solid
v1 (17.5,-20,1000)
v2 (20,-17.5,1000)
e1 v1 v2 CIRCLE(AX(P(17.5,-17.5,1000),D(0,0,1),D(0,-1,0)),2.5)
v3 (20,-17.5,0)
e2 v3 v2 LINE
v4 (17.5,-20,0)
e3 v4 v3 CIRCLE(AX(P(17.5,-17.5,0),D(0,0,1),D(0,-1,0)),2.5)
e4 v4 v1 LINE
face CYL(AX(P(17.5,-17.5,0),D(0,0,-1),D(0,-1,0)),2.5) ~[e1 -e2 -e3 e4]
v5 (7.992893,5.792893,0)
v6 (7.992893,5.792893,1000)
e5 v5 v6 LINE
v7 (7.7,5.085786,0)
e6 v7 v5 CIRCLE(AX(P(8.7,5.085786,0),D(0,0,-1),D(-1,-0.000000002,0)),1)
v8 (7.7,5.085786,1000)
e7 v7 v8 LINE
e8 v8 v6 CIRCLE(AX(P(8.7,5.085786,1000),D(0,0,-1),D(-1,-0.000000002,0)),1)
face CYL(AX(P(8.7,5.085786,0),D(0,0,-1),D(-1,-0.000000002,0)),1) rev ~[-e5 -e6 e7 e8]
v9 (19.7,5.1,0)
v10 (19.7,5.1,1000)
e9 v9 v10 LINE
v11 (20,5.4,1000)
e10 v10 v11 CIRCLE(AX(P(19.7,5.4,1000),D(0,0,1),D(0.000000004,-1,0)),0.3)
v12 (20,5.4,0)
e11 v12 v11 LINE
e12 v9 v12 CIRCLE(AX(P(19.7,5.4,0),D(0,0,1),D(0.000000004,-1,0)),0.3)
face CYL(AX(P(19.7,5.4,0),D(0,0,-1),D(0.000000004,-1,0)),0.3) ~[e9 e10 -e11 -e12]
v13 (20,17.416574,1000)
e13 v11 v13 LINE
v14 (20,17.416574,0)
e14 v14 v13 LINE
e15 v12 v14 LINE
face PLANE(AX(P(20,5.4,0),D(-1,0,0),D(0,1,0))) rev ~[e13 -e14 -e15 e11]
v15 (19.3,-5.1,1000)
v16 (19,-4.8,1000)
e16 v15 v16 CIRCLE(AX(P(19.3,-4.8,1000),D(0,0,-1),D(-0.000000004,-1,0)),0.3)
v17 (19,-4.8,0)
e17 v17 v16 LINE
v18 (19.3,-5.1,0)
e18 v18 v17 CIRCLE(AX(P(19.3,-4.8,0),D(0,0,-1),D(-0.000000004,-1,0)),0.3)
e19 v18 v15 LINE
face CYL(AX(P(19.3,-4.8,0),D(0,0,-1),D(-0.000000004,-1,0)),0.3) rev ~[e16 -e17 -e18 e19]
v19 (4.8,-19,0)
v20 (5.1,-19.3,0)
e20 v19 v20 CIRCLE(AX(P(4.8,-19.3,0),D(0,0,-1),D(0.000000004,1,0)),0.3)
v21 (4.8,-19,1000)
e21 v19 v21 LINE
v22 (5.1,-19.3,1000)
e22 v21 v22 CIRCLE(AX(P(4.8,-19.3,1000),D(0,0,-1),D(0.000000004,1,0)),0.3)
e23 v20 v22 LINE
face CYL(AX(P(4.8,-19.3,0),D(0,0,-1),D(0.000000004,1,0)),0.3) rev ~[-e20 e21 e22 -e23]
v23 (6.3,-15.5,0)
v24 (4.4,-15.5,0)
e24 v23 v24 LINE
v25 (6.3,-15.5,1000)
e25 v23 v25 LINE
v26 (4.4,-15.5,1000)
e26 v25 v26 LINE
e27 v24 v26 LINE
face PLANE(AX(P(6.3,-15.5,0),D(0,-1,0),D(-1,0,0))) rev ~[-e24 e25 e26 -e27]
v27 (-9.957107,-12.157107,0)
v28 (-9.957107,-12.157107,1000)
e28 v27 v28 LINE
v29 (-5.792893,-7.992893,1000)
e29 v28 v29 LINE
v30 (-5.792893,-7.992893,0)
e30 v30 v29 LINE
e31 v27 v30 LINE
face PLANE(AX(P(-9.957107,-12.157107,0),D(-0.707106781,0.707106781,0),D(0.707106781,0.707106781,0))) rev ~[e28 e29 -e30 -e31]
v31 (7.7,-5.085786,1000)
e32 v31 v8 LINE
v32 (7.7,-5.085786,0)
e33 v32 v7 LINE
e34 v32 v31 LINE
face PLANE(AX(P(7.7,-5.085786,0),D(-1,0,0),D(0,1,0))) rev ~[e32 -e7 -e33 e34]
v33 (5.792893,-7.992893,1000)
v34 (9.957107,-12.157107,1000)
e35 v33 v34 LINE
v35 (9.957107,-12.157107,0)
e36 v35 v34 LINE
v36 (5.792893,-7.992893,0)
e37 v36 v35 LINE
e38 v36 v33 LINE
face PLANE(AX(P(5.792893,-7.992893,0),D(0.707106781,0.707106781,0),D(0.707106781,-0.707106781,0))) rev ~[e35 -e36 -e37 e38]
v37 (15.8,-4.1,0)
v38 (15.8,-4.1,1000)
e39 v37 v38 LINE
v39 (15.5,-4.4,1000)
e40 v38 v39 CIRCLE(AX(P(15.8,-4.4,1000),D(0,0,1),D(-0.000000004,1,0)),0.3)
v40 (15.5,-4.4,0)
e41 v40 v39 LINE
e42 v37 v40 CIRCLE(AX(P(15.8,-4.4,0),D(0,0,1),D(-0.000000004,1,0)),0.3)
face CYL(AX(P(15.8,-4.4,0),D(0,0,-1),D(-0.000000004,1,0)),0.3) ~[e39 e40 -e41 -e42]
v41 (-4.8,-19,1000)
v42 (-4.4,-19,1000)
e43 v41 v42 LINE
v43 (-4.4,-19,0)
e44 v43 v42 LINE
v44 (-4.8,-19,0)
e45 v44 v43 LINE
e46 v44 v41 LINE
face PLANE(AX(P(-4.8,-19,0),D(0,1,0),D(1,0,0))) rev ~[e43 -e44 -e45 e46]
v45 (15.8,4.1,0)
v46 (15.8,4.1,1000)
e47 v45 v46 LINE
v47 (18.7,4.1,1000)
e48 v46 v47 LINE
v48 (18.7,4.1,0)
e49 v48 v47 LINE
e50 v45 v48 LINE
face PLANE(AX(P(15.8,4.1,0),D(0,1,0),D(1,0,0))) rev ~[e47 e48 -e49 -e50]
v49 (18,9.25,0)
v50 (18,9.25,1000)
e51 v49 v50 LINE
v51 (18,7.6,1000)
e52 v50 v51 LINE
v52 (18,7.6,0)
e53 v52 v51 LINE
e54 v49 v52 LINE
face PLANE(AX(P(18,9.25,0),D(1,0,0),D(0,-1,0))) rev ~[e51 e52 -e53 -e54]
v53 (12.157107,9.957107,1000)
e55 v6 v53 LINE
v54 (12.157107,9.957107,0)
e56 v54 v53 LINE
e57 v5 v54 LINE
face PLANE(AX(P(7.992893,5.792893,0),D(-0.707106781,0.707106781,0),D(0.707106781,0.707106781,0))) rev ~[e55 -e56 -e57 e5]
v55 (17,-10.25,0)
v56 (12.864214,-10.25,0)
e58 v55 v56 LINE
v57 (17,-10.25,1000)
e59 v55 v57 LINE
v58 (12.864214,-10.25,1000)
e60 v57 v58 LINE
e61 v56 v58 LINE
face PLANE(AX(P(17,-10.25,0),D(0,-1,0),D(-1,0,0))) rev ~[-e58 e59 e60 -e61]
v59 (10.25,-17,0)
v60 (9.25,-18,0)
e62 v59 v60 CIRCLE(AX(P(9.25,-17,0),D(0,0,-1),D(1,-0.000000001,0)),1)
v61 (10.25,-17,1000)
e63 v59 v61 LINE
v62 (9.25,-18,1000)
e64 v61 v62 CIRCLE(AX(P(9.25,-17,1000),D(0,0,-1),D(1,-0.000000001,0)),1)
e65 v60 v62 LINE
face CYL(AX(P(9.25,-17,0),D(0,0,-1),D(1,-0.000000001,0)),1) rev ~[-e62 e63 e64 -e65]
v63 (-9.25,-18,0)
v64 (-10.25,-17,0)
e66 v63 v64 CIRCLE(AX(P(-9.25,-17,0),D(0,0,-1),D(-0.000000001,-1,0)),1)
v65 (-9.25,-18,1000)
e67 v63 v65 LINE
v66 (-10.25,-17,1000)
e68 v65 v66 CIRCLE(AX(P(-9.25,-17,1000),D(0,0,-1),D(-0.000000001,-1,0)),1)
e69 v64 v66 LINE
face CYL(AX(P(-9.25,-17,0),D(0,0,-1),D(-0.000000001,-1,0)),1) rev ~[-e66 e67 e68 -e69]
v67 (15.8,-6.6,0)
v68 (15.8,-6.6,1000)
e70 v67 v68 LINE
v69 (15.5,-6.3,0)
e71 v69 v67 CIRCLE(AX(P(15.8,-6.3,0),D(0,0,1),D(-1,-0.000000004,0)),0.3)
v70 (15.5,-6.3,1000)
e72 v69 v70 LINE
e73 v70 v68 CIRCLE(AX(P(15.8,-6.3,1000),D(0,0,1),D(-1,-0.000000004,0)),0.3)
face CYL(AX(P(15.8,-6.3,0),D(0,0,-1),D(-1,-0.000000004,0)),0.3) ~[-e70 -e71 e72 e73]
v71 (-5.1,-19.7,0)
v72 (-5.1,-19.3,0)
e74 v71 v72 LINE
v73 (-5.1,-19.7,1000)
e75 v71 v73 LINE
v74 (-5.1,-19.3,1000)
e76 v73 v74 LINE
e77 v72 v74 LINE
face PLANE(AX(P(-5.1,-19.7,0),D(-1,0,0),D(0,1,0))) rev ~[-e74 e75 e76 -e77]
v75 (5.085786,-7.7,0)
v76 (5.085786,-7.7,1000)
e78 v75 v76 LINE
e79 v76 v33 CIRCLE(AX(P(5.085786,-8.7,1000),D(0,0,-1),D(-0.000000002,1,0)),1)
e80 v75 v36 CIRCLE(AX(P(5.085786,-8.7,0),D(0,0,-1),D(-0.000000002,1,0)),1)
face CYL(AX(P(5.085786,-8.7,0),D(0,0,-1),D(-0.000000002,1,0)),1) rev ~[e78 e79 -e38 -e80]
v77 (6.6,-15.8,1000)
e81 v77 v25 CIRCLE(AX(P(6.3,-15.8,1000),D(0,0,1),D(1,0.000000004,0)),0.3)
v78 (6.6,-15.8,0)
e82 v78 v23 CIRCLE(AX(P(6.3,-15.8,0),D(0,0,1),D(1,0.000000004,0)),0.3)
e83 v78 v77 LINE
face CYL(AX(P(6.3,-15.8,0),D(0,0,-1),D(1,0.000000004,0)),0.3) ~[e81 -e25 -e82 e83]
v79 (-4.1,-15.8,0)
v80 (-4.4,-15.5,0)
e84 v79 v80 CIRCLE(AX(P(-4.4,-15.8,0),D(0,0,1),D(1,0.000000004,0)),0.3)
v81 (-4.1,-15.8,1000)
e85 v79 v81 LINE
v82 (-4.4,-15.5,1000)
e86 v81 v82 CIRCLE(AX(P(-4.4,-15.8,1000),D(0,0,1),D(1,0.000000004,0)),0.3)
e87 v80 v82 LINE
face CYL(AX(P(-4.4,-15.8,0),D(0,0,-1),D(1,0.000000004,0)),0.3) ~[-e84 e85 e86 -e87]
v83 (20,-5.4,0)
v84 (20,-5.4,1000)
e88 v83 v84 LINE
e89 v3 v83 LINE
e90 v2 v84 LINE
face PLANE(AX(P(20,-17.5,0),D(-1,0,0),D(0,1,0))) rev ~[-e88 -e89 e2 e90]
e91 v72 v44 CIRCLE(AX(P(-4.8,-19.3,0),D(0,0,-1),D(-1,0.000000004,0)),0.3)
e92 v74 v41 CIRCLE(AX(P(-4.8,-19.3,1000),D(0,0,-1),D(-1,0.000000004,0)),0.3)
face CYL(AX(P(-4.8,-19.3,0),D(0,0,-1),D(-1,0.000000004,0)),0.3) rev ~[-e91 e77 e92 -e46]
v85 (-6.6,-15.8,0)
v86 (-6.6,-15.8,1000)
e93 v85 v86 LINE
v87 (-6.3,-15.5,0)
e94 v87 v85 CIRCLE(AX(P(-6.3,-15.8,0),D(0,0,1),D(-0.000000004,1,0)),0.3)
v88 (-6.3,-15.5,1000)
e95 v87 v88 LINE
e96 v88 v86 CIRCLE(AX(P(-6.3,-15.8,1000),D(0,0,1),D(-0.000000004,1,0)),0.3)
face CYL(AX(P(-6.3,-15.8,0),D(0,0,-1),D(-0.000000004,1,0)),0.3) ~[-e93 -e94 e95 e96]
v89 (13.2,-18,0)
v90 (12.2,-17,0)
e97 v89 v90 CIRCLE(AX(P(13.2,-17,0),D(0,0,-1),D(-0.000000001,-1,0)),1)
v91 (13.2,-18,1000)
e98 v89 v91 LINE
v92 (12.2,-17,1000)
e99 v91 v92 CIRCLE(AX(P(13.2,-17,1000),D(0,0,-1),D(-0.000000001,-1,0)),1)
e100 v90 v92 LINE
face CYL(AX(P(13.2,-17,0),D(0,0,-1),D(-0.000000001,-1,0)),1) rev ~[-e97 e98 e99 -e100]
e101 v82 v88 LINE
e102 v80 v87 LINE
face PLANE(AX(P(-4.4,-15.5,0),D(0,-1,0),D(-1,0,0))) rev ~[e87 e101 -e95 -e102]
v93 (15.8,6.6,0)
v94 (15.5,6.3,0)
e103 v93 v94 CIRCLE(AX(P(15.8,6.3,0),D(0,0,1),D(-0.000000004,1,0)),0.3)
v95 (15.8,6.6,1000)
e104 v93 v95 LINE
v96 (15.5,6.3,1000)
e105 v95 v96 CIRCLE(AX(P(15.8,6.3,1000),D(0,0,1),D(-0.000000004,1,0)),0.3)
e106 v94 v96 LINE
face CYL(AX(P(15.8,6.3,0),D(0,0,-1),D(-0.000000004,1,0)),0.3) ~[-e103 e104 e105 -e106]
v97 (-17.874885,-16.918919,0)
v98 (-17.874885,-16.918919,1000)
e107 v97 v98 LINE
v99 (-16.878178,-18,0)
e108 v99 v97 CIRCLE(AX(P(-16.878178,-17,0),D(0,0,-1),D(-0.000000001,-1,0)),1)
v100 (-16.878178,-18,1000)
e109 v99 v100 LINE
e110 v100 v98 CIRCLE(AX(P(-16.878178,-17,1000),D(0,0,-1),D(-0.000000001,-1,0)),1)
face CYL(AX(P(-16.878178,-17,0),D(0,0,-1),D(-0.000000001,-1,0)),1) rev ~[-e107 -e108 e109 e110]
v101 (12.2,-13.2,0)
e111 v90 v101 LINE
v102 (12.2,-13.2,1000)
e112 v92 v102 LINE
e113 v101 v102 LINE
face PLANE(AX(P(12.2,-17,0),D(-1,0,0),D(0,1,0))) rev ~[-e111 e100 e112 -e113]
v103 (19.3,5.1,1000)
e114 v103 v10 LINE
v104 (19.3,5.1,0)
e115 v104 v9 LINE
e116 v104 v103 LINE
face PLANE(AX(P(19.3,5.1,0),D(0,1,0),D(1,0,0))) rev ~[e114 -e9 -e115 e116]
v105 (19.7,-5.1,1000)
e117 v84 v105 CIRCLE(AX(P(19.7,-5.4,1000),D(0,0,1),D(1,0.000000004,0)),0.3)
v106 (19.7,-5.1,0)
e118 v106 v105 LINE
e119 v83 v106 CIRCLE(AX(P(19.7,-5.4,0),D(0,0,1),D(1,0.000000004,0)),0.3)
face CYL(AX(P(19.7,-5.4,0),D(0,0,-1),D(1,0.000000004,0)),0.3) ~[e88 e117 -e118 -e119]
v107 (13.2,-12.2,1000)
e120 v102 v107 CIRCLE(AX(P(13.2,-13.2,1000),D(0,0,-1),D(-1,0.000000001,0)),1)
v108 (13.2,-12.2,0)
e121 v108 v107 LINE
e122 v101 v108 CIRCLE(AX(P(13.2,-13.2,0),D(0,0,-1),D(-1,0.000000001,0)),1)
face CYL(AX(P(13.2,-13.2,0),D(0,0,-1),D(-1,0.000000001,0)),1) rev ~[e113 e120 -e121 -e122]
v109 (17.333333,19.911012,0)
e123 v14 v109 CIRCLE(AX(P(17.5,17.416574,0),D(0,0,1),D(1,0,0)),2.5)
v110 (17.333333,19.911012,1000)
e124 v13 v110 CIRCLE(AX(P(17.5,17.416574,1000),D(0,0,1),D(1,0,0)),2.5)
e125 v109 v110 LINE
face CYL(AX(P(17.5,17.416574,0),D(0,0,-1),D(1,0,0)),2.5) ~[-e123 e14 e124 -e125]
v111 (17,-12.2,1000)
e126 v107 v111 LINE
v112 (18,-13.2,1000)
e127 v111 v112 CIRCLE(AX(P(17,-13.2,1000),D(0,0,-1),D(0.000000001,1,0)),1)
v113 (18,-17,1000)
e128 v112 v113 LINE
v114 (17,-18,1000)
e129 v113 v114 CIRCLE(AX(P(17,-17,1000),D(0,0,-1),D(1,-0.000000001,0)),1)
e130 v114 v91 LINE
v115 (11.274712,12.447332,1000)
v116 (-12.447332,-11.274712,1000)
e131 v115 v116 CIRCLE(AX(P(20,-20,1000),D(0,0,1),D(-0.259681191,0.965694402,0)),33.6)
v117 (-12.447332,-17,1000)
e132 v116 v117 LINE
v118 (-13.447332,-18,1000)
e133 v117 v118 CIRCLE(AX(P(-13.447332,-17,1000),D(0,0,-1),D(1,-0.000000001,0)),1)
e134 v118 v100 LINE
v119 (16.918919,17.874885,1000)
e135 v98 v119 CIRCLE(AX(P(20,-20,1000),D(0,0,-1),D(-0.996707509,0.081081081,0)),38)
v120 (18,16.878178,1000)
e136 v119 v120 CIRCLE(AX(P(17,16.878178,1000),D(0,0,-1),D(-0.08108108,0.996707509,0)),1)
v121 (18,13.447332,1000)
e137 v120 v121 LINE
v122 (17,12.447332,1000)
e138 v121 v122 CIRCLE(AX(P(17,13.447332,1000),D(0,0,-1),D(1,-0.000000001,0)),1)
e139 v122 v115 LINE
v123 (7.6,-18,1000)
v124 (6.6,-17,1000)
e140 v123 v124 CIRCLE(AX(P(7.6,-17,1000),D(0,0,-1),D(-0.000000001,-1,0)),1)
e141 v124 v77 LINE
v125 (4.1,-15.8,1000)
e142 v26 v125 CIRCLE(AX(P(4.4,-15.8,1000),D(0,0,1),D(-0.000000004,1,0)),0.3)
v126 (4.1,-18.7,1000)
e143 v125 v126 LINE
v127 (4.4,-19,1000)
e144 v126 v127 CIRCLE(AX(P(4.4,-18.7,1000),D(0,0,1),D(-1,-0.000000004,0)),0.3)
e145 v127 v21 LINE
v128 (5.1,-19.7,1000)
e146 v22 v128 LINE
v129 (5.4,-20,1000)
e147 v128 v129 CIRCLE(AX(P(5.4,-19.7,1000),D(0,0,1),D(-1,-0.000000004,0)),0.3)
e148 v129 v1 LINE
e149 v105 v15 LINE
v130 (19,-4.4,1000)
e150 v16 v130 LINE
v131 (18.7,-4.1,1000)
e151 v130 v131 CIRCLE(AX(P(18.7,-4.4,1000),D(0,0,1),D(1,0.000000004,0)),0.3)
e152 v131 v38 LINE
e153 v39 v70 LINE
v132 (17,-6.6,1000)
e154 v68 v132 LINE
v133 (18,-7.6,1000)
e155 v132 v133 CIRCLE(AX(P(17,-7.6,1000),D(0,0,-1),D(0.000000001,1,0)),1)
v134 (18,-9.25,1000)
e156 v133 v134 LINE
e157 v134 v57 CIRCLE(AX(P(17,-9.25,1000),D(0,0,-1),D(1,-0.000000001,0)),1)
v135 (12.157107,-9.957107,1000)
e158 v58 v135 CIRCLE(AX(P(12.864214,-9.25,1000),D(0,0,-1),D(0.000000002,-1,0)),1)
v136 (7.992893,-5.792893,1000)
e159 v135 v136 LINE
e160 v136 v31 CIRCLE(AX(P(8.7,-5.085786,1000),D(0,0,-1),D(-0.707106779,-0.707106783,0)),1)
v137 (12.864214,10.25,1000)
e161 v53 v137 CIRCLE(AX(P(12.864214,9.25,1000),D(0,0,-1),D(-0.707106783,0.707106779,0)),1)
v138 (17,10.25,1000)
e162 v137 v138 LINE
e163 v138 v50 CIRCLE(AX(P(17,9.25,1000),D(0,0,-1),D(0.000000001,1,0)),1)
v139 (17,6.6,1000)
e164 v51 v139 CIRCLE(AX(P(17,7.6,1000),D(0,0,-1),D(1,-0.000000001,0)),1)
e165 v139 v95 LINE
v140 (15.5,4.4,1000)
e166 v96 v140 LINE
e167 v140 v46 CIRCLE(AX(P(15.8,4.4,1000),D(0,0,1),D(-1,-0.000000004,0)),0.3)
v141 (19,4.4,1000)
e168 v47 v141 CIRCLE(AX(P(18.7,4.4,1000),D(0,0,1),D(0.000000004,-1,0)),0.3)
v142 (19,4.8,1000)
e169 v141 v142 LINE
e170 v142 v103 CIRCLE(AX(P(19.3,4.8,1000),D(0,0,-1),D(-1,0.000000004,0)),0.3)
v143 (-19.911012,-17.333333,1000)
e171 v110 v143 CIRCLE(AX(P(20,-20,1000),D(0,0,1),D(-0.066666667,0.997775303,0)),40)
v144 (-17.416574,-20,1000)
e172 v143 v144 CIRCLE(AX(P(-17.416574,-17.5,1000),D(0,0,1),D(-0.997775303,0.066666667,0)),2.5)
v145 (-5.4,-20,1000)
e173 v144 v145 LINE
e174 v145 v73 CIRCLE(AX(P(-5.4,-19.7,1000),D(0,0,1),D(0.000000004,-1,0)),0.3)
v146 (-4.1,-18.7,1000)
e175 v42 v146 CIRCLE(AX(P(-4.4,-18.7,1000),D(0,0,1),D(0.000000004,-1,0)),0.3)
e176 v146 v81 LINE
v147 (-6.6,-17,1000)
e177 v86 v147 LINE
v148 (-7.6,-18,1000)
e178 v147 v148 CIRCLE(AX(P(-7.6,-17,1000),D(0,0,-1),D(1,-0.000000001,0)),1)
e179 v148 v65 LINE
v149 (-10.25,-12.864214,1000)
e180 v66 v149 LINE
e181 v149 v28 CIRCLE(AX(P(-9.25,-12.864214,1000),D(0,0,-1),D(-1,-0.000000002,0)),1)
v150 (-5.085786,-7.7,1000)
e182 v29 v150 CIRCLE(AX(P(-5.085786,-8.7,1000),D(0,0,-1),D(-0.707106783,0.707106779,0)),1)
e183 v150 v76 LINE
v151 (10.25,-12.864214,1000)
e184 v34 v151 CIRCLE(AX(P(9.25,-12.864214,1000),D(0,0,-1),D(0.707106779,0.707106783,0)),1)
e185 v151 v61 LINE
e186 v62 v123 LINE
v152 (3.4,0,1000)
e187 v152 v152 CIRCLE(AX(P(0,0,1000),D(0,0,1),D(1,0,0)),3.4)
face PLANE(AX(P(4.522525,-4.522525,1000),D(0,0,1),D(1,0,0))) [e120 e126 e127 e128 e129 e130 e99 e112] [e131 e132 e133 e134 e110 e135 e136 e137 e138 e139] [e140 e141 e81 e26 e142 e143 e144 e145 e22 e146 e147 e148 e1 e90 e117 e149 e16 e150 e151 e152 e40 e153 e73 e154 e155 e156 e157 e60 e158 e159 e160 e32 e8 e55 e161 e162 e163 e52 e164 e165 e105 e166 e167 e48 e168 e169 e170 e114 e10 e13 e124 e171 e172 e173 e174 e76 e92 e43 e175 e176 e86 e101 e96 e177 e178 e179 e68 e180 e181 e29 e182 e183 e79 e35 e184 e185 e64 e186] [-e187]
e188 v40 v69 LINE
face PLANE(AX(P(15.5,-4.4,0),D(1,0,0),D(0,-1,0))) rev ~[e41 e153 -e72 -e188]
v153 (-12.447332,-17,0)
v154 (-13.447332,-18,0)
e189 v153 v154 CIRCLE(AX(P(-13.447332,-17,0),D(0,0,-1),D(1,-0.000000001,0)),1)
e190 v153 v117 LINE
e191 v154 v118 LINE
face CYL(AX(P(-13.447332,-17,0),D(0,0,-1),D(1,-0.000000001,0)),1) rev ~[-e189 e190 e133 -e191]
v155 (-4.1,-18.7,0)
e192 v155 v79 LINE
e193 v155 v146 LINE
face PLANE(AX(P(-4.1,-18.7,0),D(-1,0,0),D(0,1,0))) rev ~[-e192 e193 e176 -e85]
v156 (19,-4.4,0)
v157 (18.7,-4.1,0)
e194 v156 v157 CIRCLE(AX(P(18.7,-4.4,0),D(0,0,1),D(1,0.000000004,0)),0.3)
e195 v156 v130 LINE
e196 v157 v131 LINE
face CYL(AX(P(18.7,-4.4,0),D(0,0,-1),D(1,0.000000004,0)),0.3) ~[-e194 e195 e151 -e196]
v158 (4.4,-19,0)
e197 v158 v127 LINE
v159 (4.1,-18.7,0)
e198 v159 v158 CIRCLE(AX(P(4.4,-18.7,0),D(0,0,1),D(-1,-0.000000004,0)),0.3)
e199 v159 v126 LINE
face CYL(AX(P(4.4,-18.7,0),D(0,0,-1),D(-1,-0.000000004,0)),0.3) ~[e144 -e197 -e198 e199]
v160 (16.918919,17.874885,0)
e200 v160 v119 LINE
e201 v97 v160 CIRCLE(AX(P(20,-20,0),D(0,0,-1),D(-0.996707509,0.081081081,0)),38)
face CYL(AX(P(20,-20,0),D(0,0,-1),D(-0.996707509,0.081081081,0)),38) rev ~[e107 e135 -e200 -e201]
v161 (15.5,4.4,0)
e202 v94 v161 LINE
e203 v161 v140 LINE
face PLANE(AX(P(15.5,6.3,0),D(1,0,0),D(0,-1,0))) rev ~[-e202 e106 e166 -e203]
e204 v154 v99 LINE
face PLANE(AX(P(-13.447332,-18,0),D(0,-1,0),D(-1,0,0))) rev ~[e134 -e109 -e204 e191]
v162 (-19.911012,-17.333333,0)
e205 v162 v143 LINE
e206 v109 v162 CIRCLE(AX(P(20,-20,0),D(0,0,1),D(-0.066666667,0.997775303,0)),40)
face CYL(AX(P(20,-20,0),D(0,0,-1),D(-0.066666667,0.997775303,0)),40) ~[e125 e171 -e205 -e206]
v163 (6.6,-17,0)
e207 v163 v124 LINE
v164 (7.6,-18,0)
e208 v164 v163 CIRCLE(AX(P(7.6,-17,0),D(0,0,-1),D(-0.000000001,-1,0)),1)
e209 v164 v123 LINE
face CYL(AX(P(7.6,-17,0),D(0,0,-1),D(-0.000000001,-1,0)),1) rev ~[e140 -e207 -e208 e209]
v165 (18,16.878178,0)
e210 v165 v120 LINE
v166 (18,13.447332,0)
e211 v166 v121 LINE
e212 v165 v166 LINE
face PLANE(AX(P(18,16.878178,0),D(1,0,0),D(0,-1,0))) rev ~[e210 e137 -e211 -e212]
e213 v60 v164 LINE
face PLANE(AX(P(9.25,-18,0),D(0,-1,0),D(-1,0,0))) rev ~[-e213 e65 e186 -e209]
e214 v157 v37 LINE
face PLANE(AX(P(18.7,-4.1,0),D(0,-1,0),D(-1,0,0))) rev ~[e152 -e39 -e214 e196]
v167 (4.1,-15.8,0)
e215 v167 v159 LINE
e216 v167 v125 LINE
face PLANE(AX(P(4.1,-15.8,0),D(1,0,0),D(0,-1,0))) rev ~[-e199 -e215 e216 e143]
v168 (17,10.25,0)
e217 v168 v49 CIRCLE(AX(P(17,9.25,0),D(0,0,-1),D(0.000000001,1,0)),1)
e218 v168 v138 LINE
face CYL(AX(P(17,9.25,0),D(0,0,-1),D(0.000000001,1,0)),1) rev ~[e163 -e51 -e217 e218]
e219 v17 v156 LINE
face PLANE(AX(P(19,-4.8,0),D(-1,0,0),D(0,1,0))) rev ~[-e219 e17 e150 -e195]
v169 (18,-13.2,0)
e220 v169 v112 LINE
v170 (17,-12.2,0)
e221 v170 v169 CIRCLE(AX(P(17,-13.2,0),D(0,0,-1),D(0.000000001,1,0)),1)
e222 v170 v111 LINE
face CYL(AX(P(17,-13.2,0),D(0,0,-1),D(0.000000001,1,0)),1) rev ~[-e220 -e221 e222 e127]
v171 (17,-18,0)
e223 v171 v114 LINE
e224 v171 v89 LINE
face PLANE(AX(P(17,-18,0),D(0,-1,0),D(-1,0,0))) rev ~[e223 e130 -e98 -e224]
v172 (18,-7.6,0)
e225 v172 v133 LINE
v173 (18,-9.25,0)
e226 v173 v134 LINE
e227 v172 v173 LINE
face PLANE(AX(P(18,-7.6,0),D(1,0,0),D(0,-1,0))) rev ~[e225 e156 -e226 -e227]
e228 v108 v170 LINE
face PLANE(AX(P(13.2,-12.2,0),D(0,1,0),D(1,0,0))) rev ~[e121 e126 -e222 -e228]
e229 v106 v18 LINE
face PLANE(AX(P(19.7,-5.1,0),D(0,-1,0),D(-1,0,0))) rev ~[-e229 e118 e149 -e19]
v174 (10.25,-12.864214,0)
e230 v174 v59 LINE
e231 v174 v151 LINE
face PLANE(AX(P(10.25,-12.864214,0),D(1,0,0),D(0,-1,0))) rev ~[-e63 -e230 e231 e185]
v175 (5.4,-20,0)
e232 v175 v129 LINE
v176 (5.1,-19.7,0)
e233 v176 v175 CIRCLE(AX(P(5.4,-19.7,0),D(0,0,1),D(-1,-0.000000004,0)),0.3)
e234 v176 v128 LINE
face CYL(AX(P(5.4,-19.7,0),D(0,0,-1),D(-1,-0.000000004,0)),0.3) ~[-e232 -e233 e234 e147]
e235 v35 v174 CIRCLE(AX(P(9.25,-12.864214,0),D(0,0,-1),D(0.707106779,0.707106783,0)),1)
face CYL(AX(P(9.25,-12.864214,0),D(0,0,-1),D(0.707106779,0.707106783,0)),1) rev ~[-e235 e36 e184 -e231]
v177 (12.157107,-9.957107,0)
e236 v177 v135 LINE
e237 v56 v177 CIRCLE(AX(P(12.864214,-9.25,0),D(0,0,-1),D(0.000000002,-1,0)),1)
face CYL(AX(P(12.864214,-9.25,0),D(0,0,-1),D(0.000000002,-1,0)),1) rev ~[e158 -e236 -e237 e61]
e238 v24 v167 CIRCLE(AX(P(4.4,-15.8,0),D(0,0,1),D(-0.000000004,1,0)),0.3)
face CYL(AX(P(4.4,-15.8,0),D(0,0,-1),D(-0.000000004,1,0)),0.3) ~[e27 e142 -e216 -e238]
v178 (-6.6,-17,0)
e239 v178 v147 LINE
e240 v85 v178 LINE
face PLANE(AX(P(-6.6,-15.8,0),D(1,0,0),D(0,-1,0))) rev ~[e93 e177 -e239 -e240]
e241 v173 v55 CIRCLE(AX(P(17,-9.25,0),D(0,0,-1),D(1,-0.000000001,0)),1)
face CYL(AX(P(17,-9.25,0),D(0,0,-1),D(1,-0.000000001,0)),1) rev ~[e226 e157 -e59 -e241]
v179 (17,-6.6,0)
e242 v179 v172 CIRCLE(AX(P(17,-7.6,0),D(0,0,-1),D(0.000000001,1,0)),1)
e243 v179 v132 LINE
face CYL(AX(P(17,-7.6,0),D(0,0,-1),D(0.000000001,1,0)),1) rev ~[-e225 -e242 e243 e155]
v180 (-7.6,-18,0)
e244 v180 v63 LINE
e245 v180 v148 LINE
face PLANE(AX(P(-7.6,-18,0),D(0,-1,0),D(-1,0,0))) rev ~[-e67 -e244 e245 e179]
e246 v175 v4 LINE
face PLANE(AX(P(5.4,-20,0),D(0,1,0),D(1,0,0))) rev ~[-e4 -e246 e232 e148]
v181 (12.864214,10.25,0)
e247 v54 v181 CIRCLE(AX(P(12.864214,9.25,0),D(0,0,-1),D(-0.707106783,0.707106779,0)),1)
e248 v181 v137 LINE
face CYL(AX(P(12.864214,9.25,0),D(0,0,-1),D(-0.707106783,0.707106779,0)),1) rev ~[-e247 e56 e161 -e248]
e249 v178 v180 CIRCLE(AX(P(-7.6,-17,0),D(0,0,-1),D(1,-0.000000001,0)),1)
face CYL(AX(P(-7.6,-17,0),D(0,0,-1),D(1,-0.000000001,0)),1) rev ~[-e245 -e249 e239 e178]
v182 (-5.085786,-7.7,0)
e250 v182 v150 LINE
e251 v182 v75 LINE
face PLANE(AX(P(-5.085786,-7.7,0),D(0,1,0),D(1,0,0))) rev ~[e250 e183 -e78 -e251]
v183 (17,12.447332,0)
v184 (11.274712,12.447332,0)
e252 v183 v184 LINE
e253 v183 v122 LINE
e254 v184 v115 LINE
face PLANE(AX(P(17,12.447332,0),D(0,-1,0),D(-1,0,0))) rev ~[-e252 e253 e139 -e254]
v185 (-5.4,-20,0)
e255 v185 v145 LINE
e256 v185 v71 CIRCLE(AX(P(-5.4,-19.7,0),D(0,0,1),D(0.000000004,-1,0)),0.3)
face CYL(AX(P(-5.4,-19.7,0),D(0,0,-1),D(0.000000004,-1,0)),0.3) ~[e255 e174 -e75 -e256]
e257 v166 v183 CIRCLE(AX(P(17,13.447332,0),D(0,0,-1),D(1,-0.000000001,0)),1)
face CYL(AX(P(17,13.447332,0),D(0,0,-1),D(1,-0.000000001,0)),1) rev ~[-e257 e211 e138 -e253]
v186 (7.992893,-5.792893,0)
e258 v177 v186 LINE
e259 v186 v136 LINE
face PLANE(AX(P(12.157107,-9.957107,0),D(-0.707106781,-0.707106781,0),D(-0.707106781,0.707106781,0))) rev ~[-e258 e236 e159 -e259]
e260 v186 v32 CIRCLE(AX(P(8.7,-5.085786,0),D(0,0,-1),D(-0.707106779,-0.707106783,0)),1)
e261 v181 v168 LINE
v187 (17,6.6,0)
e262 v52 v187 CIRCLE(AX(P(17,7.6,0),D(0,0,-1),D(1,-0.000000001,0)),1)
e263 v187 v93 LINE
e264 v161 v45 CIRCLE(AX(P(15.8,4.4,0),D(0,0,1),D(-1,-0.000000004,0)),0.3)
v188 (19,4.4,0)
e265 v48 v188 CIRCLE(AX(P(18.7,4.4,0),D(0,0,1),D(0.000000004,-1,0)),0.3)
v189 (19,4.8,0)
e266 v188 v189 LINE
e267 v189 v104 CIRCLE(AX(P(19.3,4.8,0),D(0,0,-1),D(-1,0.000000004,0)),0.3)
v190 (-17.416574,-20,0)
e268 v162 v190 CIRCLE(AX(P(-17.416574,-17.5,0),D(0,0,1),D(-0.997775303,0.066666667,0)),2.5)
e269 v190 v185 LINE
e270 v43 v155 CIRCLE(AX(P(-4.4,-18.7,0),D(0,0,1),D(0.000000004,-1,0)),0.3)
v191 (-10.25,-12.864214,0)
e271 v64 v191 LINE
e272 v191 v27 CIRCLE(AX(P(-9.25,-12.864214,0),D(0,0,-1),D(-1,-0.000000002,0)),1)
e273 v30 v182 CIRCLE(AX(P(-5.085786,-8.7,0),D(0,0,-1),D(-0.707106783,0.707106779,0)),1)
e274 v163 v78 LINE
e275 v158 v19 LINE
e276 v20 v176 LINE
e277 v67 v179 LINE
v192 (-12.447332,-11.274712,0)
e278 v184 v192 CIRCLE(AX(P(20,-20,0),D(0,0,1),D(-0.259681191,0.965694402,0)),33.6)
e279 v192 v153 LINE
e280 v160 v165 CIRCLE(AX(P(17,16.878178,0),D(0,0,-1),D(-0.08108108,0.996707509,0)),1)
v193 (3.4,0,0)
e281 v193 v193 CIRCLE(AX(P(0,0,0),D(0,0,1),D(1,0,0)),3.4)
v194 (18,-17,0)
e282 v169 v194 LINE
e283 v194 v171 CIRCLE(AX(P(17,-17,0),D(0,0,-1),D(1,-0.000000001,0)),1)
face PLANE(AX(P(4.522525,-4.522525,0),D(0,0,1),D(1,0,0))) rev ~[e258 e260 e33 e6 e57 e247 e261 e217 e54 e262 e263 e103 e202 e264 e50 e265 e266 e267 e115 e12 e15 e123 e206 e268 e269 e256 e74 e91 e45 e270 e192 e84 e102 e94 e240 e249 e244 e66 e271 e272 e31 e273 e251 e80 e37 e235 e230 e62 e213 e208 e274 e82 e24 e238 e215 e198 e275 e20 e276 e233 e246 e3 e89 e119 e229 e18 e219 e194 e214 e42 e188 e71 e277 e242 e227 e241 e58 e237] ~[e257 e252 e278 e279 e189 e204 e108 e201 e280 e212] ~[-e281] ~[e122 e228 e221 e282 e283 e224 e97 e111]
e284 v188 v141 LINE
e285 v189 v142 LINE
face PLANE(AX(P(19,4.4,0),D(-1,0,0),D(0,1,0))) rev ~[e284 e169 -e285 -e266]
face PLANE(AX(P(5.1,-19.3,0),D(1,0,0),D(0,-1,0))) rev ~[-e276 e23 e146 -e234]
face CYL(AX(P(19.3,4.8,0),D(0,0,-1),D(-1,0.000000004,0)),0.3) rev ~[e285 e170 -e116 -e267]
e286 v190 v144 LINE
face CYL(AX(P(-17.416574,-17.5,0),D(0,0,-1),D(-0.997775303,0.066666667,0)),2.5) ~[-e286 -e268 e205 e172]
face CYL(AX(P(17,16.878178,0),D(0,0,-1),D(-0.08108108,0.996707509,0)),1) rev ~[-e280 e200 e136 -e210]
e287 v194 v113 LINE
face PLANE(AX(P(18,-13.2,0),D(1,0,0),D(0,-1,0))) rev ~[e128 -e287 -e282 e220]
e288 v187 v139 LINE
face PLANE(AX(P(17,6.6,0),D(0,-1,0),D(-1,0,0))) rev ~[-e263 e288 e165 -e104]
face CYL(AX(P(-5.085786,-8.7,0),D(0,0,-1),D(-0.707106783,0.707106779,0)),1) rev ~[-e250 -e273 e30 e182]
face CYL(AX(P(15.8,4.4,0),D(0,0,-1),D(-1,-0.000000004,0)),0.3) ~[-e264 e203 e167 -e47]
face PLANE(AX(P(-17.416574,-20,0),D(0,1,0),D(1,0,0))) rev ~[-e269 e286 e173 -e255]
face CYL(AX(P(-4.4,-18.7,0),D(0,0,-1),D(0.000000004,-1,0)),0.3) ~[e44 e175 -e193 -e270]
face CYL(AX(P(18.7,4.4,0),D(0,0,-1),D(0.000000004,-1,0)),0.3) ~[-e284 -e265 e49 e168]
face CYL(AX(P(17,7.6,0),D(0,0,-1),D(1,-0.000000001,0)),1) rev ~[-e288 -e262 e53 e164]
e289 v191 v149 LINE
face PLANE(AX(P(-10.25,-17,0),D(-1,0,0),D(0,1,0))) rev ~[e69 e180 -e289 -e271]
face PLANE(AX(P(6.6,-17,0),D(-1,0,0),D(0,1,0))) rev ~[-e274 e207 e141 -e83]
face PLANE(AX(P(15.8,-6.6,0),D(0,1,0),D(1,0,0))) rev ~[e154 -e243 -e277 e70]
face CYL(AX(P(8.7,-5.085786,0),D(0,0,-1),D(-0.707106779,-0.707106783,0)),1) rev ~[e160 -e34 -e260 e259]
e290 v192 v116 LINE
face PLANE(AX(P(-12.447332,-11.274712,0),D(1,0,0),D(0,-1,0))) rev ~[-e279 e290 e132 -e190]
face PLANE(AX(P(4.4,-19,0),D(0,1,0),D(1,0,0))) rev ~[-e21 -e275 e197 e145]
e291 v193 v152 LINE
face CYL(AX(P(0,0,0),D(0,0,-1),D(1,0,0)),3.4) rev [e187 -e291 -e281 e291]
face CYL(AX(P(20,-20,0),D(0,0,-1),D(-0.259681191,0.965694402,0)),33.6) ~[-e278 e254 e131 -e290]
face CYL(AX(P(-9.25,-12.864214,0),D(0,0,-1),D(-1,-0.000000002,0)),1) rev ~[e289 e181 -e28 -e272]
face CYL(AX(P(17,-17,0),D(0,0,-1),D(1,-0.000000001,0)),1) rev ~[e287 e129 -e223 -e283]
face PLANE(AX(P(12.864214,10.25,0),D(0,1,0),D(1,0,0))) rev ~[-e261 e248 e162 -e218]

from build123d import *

# Parameters (mm, degrees)
SKETCH_1_R      = 3.4
EXTRUDE_1_DEPTH = 1000


with BuildPart() as part:
    # Эскиз1 → Бобышка-Вытянуть1 (new body)
    with BuildSketch(Plane.XY):
        with BuildLine():
            Line((10.25, -20), (17.5, -20))
            ThreePointArc((17.5, -20), (19.267766953, -19.267766953), (20, -17.5))
            Line((20, -17.5), (20, -10.25))
            Line((20, -10.25), (20, -5.4))
            ThreePointArc((20, -5.4), (19.912132034, -5.187867966), (19.7, -5.1))
            Line((19.7, -5.1), (19.3, -5.1))
            ThreePointArc((19.3, -5.1), (19.087867966, -5.012132034), (19, -4.8))
            Line((19, -4.8), (19, -4.4))
            ThreePointArc((19, -4.4), (18.912132034, -4.187867966), (18.7, -4.1))
            Line((18.7, -4.1), (15.8, -4.1))
            ThreePointArc((15.8, -4.1), (15.587867966, -4.187867966), (15.5, -4.4))
            Line((15.5, -4.4), (15.5, -6.3))
            ThreePointArc((15.5, -6.3), (15.587867966, -6.512132034), (15.8, -6.6))
            Line((15.8, -6.6), (17, -6.6))
            ThreePointArc((17, -6.6), (17.707106781, -6.892893219), (18, -7.6))
            Line((18, -7.6), (18, -9.25))
            ThreePointArc((18, -9.25), (17.707106781, -9.957106781), (17, -10.25))
            Line((17, -10.25), (12.864213562, -10.25))
            ThreePointArc((12.864213562, -10.25), (12.48153013, -10.173879533), (12.157106781, -9.957106781))
            Line((12.157106781, -9.957106781), (7.992893219, -5.792893219))
            ThreePointArc((7.992893219, -5.792893219), (7.776120467, -5.46846987), (7.7, -5.085786438))
            Line((7.7, -5.085786438), (7.7, 5.085786438))
            ThreePointArc((7.7, 5.085786438), (7.776120467, 5.46846987), (7.992893219, 5.792893219))
            Line((7.992893219, 5.792893219), (12.157106781, 9.957106781))
            ThreePointArc((12.157106781, 9.957106781), (12.48153013, 10.173879533), (12.864213562, 10.25))
            Line((12.864213562, 10.25), (17, 10.25))
            ThreePointArc((17, 10.25), (17.707106781, 9.957106781), (18, 9.25))
            Line((18, 9.25), (18, 7.6))
            ThreePointArc((18, 7.6), (17.707106781, 6.892893219), (17, 6.6))
            Line((17, 6.6), (15.8, 6.6))
            ThreePointArc((15.8, 6.6), (15.587867966, 6.512132034), (15.5, 6.3))
            Line((15.5, 6.3), (15.5, 4.4))
            ThreePointArc((15.5, 4.4), (15.587867966, 4.187867966), (15.8, 4.1))
            Line((15.8, 4.1), (18.7, 4.1))
            ThreePointArc((18.7, 4.1), (18.912132034, 4.187867966), (19, 4.4))
            Line((19, 4.4), (19, 4.8))
            ThreePointArc((19, 4.8), (19.087867966, 5.012132034), (19.3, 5.1))
            Line((19.3, 5.1), (19.7, 5.1))
            ThreePointArc((19.7, 5.1), (19.912132034, 5.187867966), (20, 5.4))
            Line((20, 5.4), (20, 10.25))
            Line((20, 10.25), (20, 17.416573868))
            ThreePointArc((20, 17.416573868), (19.207825128, 19.242315726), (17.333333333, 19.911012126))
            ThreePointArc((17.333333333, 19.911012126), (-8.284271247, 8.284271247), (-19.911012126, -17.333333333))
            ThreePointArc((-19.911012126, -17.333333333), (-19.242315726, -19.207825128), (-17.416573868, -20))
            Line((-17.416573868, -20), (-10.25, -20))
            Line((-10.25, -20), (-5.4, -20))
            ThreePointArc((-5.4, -20), (-5.187867966, -19.912132034), (-5.1, -19.7))
            Line((-5.1, -19.7), (-5.1, -19.3))
            ThreePointArc((-5.1, -19.3), (-5.012132034, -19.087867966), (-4.8, -19))
            Line((-4.8, -19), (-4.4, -19))
            ThreePointArc((-4.4, -19), (-4.187867966, -18.912132034), (-4.1, -18.7))
            Line((-4.1, -18.7), (-4.1, -15.8))
            ThreePointArc((-4.1, -15.8), (-4.187867966, -15.587867966), (-4.4, -15.5))
            Line((-4.4, -15.5), (-6.3, -15.5))
            ThreePointArc((-6.3, -15.5), (-6.512132034, -15.587867966), (-6.6, -15.8))
            Line((-6.6, -15.8), (-6.6, -17))
            ThreePointArc((-6.6, -17), (-6.892893219, -17.707106781), (-7.6, -18))
            Line((-7.6, -18), (-9.25, -18))
            ThreePointArc((-9.25, -18), (-9.957106781, -17.707106781), (-10.25, -17))
            Line((-10.25, -17), (-10.25, -12.864213562))
            ThreePointArc((-10.25, -12.864213562), (-10.173879533, -12.48153013), (-9.957106781, -12.157106781))
            Line((-9.957106781, -12.157106781), (-5.792893219, -7.992893219))
            ThreePointArc((-5.792893219, -7.992893219), (-5.46846987, -7.776120467), (-5.085786438, -7.7))
            Line((-5.085786438, -7.7), (5.085786438, -7.7))
            ThreePointArc((5.085786438, -7.7), (5.46846987, -7.776120467), (5.792893219, -7.992893219))
            Line((5.792893219, -7.992893219), (9.957106781, -12.157106781))
            ThreePointArc((9.957106781, -12.157106781), (10.173879533, -12.48153013), (10.25, -12.864213562))
            Line((10.25, -12.864213562), (10.25, -17))
            ThreePointArc((10.25, -17), (9.957106781, -17.707106781), (9.25, -18))
            Line((9.25, -18), (7.6, -18))
            ThreePointArc((7.6, -18), (6.892893219, -17.707106781), (6.6, -17))
            Line((6.6, -17), (6.6, -15.8))
            ThreePointArc((6.6, -15.8), (6.512132034, -15.587867966), (6.3, -15.5))
            Line((6.3, -15.5), (4.4, -15.5))
            ThreePointArc((4.4, -15.5), (4.187867966, -15.587867966), (4.1, -15.8))
            Line((4.1, -15.8), (4.1, -18.7))
            ThreePointArc((4.1, -18.7), (4.187867966, -18.912132034), (4.4, -19))
            Line((4.4, -19), (4.8, -19))
            ThreePointArc((4.8, -19), (5.012132034, -19.087867966), (5.1, -19.3))
            Line((5.1, -19.3), (5.1, -19.7))
            ThreePointArc((5.1, -19.7), (5.187867966, -19.912132034), (5.4, -20))
            Line((5.4, -20), (10.25, -20))
        make_face()
        Circle(SKETCH_1_R, mode=Mode.SUBTRACT)
        with BuildLine():
            Line((18, 16.878177829), (18, 13.447331922))
            ThreePointArc((18, 13.447331922), (17.707106781, 12.740225141), (17, 12.447331922))
            Line((17, 12.447331922), (11.274711974, 12.447331922))
            ThreePointArc((11.274711974, 12.447331922), (-3.758787848, 3.758787848), (-12.447331922, -11.274711974))
            Line((-12.447331922, -11.274711974), (-12.447331922, -17))
            ThreePointArc((-12.447331922, -17), (-12.740225141, -17.707106781), (-13.447331922, -18))
            Line((-13.447331922, -18), (-16.878177829, -18))
            ThreePointArc((-16.878177829, -18), (-17.613392451, -17.677834389), (-17.874885338, -16.918918919))
            ThreePointArc((-17.874885338, -16.918918919), (-6.870057685, 6.870057685), (16.918918919, 17.874885338))
            ThreePointArc((16.918918919, 17.874885338), (17.677834389, 17.613392451), (18, 16.878177829))
        make_face(mode=Mode.SUBTRACT)
        with BuildLine():
            Line((13.2, -12.2), (17, -12.2))
            ThreePointArc((17, -12.2), (17.707106781, -12.492893219), (18, -13.2))
            Line((18, -13.2), (18, -17))
            ThreePointArc((18, -17), (17.707106781, -17.707106781), (17, -18))
            Line((17, -18), (13.2, -18))
            ThreePointArc((13.2, -18), (12.492893219, -17.707106781), (12.2, -17))
            Line((12.2, -17), (12.2, -13.2))
            ThreePointArc((12.2, -13.2), (12.492893219, -12.492893219), (13.2, -12.2))
        make_face(mode=Mode.SUBTRACT)
    extrude(amount=EXTRUDE_1_DEPTH)


solid = part.part
